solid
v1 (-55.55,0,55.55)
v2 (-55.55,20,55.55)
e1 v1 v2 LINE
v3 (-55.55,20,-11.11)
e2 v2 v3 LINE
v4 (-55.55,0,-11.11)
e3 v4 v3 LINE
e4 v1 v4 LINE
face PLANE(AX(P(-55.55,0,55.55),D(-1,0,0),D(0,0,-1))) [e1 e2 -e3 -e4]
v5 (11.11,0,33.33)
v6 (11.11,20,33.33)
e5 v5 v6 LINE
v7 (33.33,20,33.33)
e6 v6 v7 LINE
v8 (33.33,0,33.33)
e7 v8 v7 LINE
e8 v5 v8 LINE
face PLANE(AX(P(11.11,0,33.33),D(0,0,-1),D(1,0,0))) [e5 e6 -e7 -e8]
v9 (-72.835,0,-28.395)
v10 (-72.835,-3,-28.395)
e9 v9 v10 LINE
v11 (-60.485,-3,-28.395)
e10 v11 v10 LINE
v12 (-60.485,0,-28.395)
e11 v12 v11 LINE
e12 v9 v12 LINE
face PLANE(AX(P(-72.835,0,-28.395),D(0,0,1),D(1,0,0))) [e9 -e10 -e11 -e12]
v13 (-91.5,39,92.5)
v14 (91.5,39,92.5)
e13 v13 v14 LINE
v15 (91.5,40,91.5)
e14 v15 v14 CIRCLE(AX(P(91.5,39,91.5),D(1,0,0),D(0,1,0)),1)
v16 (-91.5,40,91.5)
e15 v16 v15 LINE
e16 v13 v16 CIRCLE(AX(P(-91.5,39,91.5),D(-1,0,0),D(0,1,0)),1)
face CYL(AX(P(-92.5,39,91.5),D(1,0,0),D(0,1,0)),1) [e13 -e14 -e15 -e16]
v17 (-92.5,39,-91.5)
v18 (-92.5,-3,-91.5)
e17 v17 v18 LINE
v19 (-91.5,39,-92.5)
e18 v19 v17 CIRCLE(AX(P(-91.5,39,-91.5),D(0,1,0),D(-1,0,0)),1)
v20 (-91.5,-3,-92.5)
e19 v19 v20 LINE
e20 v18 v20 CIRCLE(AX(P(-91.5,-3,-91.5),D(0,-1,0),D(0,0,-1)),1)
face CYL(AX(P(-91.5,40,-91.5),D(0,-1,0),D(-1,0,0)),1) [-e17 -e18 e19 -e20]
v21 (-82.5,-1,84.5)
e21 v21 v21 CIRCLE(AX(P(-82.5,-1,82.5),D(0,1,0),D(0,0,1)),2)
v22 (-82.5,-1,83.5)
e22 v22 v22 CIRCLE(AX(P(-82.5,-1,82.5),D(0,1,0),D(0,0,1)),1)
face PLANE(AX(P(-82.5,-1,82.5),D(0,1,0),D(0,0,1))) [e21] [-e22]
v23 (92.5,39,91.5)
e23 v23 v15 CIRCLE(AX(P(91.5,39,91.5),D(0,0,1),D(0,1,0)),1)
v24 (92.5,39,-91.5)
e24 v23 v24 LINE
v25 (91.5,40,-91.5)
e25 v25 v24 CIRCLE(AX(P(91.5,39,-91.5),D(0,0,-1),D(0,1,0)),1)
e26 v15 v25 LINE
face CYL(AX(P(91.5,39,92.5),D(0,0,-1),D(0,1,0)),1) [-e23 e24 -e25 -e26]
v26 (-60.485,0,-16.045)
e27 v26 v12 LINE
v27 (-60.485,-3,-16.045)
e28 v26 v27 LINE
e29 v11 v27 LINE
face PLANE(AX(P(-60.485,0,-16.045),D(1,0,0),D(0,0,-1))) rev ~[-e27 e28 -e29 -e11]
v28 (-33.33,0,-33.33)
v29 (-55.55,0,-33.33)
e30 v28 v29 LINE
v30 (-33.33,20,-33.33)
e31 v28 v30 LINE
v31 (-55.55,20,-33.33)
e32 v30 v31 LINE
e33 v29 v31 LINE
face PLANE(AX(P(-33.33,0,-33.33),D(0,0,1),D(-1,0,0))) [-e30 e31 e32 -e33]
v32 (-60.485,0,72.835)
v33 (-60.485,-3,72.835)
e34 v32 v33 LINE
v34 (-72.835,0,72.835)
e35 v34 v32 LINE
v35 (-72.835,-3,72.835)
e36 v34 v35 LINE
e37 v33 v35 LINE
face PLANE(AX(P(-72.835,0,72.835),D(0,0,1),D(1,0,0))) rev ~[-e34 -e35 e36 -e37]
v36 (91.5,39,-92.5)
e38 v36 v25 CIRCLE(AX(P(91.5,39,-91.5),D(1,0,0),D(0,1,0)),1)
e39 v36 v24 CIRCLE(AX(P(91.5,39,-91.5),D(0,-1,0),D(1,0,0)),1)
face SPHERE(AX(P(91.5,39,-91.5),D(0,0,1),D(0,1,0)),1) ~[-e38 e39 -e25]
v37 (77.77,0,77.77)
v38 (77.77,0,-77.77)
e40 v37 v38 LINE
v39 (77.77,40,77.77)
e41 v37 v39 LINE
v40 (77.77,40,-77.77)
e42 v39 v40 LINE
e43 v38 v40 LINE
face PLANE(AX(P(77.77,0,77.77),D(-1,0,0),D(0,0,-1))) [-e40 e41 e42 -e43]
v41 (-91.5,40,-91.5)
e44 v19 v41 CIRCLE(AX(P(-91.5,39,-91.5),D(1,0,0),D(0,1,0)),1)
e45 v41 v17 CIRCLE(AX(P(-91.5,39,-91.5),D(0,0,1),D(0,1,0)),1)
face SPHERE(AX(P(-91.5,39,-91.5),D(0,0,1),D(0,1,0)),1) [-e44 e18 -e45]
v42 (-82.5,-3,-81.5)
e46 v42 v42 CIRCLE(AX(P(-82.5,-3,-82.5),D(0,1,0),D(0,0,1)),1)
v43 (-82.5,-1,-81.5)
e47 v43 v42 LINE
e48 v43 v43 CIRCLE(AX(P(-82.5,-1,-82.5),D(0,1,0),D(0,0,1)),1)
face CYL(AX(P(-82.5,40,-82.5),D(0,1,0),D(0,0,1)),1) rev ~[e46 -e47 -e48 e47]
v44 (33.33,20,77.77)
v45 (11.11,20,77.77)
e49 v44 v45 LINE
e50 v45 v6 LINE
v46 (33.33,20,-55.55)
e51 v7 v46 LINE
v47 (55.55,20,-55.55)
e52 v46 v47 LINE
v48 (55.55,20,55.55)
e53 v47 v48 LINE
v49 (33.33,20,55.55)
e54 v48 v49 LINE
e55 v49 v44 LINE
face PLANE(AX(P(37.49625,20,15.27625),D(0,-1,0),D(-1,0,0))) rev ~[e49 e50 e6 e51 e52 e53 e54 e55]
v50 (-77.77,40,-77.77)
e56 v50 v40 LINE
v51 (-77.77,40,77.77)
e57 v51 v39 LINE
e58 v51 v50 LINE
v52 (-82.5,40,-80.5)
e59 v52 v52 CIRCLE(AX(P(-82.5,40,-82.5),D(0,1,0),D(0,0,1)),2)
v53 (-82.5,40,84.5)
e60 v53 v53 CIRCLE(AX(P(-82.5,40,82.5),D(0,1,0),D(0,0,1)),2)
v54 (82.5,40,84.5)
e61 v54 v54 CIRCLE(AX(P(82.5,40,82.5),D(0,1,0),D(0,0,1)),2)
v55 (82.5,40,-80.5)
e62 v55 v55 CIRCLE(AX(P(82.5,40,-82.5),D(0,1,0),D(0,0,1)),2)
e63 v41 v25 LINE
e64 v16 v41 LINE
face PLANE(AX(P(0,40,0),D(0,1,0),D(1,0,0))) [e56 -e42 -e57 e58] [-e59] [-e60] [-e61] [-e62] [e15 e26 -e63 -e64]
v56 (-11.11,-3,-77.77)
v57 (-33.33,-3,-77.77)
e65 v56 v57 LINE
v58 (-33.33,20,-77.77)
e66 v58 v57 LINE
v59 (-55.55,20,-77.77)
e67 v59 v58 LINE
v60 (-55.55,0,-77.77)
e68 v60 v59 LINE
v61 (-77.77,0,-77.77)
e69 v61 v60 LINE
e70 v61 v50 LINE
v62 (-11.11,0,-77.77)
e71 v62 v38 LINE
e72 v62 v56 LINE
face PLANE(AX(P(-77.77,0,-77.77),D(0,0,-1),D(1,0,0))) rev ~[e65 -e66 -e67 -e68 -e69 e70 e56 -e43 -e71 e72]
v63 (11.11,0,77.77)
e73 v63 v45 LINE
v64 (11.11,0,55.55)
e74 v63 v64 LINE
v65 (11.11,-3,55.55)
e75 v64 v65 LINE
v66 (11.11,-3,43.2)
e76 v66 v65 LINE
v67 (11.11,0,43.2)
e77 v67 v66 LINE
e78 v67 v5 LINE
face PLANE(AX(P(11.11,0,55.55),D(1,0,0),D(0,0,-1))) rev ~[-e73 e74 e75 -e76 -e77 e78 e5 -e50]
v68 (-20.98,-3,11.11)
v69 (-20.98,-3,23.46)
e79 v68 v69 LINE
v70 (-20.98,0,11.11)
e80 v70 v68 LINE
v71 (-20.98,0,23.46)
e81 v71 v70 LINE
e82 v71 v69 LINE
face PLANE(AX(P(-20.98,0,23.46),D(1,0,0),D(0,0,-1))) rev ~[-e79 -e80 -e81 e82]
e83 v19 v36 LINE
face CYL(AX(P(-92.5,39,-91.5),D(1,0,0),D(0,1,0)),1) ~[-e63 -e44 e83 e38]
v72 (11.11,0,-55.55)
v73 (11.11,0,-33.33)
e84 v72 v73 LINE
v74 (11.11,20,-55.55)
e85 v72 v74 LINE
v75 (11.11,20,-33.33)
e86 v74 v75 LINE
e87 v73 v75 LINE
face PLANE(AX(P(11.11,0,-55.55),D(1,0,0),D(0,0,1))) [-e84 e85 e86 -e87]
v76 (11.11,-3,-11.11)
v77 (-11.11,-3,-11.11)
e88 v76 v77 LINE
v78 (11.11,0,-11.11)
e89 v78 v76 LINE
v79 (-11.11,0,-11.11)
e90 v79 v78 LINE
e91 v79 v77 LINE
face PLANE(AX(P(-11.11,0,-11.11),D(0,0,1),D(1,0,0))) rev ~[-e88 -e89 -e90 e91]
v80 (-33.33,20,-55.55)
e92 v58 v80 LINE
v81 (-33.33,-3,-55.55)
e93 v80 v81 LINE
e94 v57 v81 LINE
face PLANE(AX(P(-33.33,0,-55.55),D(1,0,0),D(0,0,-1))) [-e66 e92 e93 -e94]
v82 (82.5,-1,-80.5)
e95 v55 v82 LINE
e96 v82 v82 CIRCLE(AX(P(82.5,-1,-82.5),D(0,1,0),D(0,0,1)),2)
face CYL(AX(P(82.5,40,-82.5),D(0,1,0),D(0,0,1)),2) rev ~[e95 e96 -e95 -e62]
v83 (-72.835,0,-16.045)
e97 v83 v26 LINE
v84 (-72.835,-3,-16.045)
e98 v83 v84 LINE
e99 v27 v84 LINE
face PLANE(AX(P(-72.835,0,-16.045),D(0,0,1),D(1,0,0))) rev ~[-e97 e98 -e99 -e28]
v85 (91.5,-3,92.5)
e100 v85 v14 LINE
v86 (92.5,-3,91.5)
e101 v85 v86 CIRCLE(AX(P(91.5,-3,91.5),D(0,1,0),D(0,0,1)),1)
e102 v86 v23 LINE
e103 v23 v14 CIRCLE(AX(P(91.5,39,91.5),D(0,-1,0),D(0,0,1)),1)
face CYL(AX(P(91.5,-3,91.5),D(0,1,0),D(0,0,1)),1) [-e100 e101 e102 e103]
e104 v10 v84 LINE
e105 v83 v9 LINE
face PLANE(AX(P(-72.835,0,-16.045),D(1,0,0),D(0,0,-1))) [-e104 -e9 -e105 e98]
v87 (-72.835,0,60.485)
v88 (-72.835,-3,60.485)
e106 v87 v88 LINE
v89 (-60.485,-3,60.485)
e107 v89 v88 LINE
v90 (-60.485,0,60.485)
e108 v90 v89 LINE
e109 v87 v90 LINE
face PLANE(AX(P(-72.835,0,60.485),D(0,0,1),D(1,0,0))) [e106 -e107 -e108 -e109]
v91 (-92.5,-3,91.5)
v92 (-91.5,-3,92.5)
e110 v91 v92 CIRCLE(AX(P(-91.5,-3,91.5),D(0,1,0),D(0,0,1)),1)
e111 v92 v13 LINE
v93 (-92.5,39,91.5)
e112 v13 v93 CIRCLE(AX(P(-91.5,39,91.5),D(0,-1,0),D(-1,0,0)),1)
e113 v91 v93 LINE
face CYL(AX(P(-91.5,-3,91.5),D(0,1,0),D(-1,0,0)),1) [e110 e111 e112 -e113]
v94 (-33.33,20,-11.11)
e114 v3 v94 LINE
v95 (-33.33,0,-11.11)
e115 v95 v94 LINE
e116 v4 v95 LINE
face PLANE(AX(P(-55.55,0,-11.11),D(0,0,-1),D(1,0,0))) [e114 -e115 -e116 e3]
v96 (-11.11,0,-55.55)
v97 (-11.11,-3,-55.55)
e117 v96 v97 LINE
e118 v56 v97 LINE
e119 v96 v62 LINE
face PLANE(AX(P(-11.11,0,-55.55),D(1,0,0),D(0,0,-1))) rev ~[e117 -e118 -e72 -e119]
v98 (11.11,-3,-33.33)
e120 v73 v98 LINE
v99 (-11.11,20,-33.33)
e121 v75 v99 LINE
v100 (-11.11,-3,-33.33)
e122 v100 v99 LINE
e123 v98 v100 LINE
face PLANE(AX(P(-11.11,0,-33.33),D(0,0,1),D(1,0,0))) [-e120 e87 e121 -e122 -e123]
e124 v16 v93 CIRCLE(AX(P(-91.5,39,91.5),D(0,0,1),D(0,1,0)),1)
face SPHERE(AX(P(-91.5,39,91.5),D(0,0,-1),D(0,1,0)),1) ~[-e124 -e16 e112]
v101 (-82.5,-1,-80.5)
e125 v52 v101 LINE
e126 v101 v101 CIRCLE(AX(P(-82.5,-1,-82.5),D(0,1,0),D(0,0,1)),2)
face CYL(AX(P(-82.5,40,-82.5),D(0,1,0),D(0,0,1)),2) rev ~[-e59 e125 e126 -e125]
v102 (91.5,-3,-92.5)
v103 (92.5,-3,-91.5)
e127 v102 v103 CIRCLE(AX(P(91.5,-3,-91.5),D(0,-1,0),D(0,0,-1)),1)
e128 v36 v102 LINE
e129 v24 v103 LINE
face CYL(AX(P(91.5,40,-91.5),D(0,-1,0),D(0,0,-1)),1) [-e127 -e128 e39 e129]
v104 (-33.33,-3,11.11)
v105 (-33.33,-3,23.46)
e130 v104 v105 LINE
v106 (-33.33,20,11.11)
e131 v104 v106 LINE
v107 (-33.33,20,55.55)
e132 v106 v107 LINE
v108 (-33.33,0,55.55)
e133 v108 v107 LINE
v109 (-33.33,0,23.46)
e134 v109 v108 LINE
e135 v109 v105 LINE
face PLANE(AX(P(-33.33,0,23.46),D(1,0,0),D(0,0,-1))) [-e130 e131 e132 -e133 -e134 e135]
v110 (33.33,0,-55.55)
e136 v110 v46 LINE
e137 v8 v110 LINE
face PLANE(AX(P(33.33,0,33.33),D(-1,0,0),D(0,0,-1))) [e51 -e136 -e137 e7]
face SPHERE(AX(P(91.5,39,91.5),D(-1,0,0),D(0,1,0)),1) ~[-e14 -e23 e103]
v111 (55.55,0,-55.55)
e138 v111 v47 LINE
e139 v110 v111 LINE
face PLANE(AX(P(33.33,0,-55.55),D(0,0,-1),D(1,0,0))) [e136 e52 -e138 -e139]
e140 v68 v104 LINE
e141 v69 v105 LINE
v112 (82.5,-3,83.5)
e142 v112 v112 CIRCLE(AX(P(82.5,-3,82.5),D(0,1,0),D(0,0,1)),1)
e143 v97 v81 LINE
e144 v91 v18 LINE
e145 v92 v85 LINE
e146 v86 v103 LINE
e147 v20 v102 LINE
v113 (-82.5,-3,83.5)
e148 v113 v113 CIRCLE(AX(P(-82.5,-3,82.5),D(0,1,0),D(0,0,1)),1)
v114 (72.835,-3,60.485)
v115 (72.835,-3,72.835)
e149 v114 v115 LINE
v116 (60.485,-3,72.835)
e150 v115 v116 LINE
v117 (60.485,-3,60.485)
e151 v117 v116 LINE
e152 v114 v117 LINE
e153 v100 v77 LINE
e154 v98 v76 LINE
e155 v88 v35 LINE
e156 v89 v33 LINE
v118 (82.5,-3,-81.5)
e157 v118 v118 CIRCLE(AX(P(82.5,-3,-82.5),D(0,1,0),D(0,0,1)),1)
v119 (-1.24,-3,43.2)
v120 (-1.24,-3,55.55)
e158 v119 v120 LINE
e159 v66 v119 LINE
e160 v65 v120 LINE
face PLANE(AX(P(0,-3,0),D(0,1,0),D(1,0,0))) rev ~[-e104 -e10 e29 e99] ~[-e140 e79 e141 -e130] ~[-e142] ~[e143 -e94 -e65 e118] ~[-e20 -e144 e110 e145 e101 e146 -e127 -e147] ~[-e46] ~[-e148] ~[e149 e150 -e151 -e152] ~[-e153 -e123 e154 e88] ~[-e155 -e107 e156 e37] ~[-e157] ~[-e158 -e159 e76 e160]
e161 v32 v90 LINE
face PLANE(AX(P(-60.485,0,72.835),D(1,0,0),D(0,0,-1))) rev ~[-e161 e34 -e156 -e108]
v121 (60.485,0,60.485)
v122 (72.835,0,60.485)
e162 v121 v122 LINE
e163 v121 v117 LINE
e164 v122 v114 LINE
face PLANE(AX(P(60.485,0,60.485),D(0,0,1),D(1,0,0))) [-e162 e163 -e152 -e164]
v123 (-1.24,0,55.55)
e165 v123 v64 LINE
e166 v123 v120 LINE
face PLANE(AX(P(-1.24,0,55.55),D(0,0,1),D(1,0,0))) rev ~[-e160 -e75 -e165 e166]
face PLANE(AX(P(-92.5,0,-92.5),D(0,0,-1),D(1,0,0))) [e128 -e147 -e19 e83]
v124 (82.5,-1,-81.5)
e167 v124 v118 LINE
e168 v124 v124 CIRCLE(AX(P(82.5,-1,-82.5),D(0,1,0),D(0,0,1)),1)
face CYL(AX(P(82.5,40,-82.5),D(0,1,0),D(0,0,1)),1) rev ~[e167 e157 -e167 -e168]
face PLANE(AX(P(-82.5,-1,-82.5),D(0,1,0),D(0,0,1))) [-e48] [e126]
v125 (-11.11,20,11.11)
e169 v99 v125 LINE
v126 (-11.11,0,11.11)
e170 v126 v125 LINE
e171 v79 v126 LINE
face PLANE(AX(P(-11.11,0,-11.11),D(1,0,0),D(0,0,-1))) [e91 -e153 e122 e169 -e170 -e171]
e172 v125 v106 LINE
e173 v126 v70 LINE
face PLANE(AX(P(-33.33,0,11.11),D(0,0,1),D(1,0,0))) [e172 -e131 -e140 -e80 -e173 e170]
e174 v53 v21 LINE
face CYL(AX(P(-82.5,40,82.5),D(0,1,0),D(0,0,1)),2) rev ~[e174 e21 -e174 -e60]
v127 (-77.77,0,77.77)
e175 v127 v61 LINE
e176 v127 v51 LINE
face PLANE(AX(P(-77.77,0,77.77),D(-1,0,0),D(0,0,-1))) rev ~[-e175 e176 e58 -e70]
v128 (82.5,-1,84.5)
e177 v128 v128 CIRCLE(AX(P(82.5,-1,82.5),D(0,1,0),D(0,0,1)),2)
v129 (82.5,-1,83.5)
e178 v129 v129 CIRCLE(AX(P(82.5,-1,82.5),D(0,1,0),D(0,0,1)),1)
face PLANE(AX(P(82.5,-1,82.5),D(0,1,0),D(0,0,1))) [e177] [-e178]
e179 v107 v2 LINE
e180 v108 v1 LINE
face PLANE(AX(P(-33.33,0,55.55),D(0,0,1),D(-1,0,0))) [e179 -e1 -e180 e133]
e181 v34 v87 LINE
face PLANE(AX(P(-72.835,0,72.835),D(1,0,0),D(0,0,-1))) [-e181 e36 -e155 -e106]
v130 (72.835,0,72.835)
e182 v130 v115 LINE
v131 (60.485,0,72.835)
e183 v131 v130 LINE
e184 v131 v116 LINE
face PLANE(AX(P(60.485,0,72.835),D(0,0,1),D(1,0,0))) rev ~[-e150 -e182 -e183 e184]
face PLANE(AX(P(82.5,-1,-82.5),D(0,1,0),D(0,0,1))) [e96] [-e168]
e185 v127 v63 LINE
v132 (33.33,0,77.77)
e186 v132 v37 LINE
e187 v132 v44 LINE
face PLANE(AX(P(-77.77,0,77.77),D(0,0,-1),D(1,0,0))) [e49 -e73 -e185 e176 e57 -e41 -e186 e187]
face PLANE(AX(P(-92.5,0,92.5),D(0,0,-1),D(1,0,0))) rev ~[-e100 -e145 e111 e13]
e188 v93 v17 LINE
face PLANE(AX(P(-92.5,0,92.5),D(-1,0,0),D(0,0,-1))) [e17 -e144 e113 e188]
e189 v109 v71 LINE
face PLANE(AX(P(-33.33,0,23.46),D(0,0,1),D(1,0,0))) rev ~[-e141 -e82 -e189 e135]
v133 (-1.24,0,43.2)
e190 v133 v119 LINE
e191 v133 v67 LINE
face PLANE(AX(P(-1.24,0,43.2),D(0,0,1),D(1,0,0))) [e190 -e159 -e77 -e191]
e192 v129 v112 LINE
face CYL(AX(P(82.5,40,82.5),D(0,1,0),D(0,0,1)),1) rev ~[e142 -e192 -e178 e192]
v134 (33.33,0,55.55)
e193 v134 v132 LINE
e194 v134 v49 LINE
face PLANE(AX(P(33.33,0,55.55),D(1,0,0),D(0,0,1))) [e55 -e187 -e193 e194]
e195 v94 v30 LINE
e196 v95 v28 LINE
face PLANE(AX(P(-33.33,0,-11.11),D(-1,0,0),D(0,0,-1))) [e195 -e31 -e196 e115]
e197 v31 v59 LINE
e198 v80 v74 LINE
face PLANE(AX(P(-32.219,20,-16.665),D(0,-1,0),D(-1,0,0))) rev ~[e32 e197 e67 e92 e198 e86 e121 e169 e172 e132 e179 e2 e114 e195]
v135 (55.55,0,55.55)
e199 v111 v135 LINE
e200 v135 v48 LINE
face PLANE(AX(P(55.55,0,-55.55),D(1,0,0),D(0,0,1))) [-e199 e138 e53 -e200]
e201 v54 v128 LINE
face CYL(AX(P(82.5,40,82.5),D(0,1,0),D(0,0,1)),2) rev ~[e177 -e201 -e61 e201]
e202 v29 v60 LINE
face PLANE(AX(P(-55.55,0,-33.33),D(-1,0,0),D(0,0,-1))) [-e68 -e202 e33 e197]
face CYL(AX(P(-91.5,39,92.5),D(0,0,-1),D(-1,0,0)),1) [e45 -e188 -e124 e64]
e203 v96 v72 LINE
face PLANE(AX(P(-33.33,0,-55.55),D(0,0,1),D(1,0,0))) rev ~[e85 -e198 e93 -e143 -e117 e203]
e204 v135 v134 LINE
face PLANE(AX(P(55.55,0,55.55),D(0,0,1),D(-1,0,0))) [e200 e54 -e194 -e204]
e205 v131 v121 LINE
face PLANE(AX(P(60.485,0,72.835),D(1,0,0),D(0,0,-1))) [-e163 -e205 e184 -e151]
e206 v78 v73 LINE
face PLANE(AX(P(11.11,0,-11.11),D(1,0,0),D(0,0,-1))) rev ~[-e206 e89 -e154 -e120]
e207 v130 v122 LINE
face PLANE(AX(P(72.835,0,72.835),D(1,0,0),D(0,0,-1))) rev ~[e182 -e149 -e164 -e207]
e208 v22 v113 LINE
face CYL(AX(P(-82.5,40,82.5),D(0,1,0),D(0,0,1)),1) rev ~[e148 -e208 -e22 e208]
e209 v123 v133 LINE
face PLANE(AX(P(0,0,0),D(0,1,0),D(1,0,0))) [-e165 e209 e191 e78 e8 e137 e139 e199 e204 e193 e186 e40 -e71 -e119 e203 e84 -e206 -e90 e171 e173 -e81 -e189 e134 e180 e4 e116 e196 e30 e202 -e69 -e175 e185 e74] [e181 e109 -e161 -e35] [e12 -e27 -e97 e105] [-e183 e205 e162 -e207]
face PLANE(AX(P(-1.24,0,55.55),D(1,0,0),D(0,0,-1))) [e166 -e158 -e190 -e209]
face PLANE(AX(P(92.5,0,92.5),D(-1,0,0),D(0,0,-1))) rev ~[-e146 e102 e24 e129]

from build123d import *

# Parameters (mm, degrees)
ESQUISSE2_W             = 185
ESQUISSE2_H             = 185
BOSS_EXTRU_1_DEPTH      = 3
ESQUISSE3_W             = 185
ESQUISSE3_H             = 185
ESQUISSE3_W_2           = 155.54
ESQUISSE3_H_2           = 155.54
BOSS_EXTRU_2_DEPTH      = 40
BOSS_EXTRU_3_DEPTH      = 20
ENL_V_MAT_EXTRU_1_REACH = 5
ESQUISSE5_W             = 22.22
ESQUISSE5_H             = 22.22
ESQUISSE5_W_2           = 12.35
ESQUISSE5_H_2           = 12.35
CONG_1_R                = 1
ESQUISSE6_R             = 1
ENL_V_MAT_EXTRU_2_DEPTH = 44
ESQUISSE7_R             = 2
ENL_V_MAT_EXTRU_3_DEPTH = 41


with BuildPart() as part:
    # Esquisse2 → Boss.-Extru.1 (new body)
    with BuildSketch(Plane(origin=(0, 0, 0), x_dir=(1, 0, 0), z_dir=(0, 1, 0))):
        Rectangle(ESQUISSE2_W, ESQUISSE2_H)
    extrude(amount=-BOSS_EXTRU_1_DEPTH)

    # Esquisse3 → Boss.-Extru.2 (add)
    with BuildSketch(Plane(origin=(0, 0, 0), x_dir=(1, 0, 0), z_dir=(0, 1, 0))):
        Rectangle(ESQUISSE3_W, ESQUISSE3_H)
        Rectangle(ESQUISSE3_W_2, ESQUISSE3_H_2, mode=Mode.SUBTRACT)
    extrude(amount=BOSS_EXTRU_2_DEPTH)

    # Esquisse4 → Boss.-Extru.3 (add)
    with BuildSketch(Plane(origin=(0, 0, 0), x_dir=(1, 0, 0), z_dir=(0, 1, 0))):
        Polygon((-55.55, 77.77), (-33.33, 77.77), (-33.33, 55.55), (11.11, 55.55), (11.11, 33.33), (-11.11, 33.33), (-11.11, -11.11), (-33.33, -11.11), (-33.33, -55.55), (-55.55, -55.55), (-55.55, 11.11), (-33.33, 11.11), (-33.33, 33.33), (-55.55, 33.33), align=None)
        Polygon((33.33, 55.55), (55.55, 55.55), (55.55, -55.55), (33.33, -55.55), (33.33, -77.77), (11.11, -77.77), (11.11, -33.33), (33.33, -33.33), align=None)
    extrude(amount=BOSS_EXTRU_3_DEPTH)

    # Esquisse5 → Enlèv. mat.-Extru.1 (cut, up to next)
    with BuildSketch(Plane(origin=(0, 0, 0), x_dir=(1, 0, 0), z_dir=(0, 1, 0)), mode=Mode.PRIVATE) as enl_v_mat_extru_1_sk1:
        with Locations((-22.22, 66.66)):
            Rectangle(ESQUISSE5_W, ESQUISSE5_H)
    enl_v_mat_extru_1_tool1 = extrude(enl_v_mat_extru_1_sk1.sketch, amount=-ENL_V_MAT_EXTRU_1_REACH, mode=Mode.PRIVATE) & part.part
    add(enl_v_mat_extru_1_tool1.solids().sort_by_distance((-22.22, 0, -66.66))[0], mode=Mode.SUBTRACT)
    # Esquisse5 → Enlèv. mat.-Extru.1 (cut, up to next)
    with BuildSketch(Plane(origin=(0, 0, 0), x_dir=(1, 0, 0), z_dir=(0, 1, 0)), mode=Mode.PRIVATE) as enl_v_mat_extru_1_sk2:
        with Locations((0, 22.22)):
            Rectangle(ESQUISSE5_W, ESQUISSE5_H)
    enl_v_mat_extru_1_tool2 = extrude(enl_v_mat_extru_1_sk2.sketch, amount=-ENL_V_MAT_EXTRU_1_REACH, mode=Mode.PRIVATE) & part.part
    add(enl_v_mat_extru_1_tool2.solids().sort_by_distance((0, 0, -22.22))[0], mode=Mode.SUBTRACT)
    # Esquisse5 → Enlèv. mat.-Extru.1 (cut, up to next)
    with BuildSketch(Plane(origin=(0, 0, 0), x_dir=(1, 0, 0), z_dir=(0, 1, 0)), mode=Mode.PRIVATE) as enl_v_mat_extru_1_sk3:
        with Locations((-27.155, -17.285)):
            Rectangle(ESQUISSE5_W_2, ESQUISSE5_H_2)
    enl_v_mat_extru_1_tool3 = extrude(enl_v_mat_extru_1_sk3.sketch, amount=-ENL_V_MAT_EXTRU_1_REACH, mode=Mode.PRIVATE) & part.part
    add(enl_v_mat_extru_1_tool3.solids().sort_by_distance((-27.155, 0, 17.285))[0], mode=Mode.SUBTRACT)
    # Esquisse5 → Enlèv. mat.-Extru.1 (cut, up to next)
    with BuildSketch(Plane(origin=(0, 0, 0), x_dir=(1, 0, 0), z_dir=(0, 1, 0)), mode=Mode.PRIVATE) as enl_v_mat_extru_1_sk4:
        with Locations((-66.66, 22.22)):
            Rectangle(ESQUISSE5_W_2, ESQUISSE5_H_2)
    enl_v_mat_extru_1_tool4 = extrude(enl_v_mat_extru_1_sk4.sketch, amount=-ENL_V_MAT_EXTRU_1_REACH, mode=Mode.PRIVATE) & part.part
    add(enl_v_mat_extru_1_tool4.solids().sort_by_distance((-66.66, 0, -22.22))[0], mode=Mode.SUBTRACT)
    # Esquisse5 → Enlèv. mat.-Extru.1 (cut, up to next)
    with BuildSketch(Plane(origin=(0, 0, 0), x_dir=(1, 0, 0), z_dir=(0, 1, 0)), mode=Mode.PRIVATE) as enl_v_mat_extru_1_sk5:
        with Locations((-66.66, -66.66)):
            Rectangle(ESQUISSE5_W_2, ESQUISSE5_H_2)
    enl_v_mat_extru_1_tool5 = extrude(enl_v_mat_extru_1_sk5.sketch, amount=-ENL_V_MAT_EXTRU_1_REACH, mode=Mode.PRIVATE) & part.part
    add(enl_v_mat_extru_1_tool5.solids().sort_by_distance((-66.66, 0, 66.66))[0], mode=Mode.SUBTRACT)
    # Esquisse5 → Enlèv. mat.-Extru.1 (cut, up to next)
    with BuildSketch(Plane(origin=(0, 0, 0), x_dir=(1, 0, 0), z_dir=(0, 1, 0)), mode=Mode.PRIVATE) as enl_v_mat_extru_1_sk6:
        with Locations((66.66, -66.66)):
            Rectangle(ESQUISSE5_W_2, ESQUISSE5_H_2)
    enl_v_mat_extru_1_tool6 = extrude(enl_v_mat_extru_1_sk6.sketch, amount=-ENL_V_MAT_EXTRU_1_REACH, mode=Mode.PRIVATE) & part.part
    add(enl_v_mat_extru_1_tool6.solids().sort_by_distance((66.66, 0, 66.66))[0], mode=Mode.SUBTRACT)
    # Esquisse5 → Enlèv. mat.-Extru.1 (cut, up to next)
    with BuildSketch(Plane(origin=(0, 0, 0), x_dir=(1, 0, 0), z_dir=(0, 1, 0)), mode=Mode.PRIVATE) as enl_v_mat_extru_1_sk7:
        with Locations((4.935, -49.375)):
            Rectangle(ESQUISSE5_W_2, ESQUISSE5_H_2)
    enl_v_mat_extru_1_tool7 = extrude(enl_v_mat_extru_1_sk7.sketch, amount=-ENL_V_MAT_EXTRU_1_REACH, mode=Mode.PRIVATE) & part.part
    add(enl_v_mat_extru_1_tool7.solids().sort_by_distance((4.935, 0, 49.375))[0], mode=Mode.SUBTRACT)

    # Congé1
    cong_1_edges = [part.edges().sort_by_distance(p)[0] for p in [
        (-92.5, 40, 0),
        (0, 40, 92.5),
        (92.5, 40, 0),
        (0, 40, -92.5),
        (-92.5, 18.5, -92.5),
        (92.5, 18.5, -92.5),
        (92.5, 18.5, 92.5),
        (-92.5, 18.5, 92.5),
    ]]
    fillet(cong_1_edges, radius=CONG_1_R)

    # Esquisse6 → Enlèv. mat.-Extru.2 (cut, through all)
    with BuildSketch(Plane(origin=(0, 40, 0), x_dir=(1, 0, 0), z_dir=(0, 1, 0))):
        with Locations(Location((-82.5, -82.5, 0), (0, 0, 270))):  # turned: the seam where the file's is
            Circle(ESQUISSE6_R)
        with Locations(Location((82.5, -82.5, 0), (0, 0, 270))):  # turned: the seam where the file's is
            Circle(ESQUISSE6_R)
        with Locations(Location((82.5, 82.5, 0), (0, 0, 270))):  # turned: the seam where the file's is
            Circle(ESQUISSE6_R)
        with Locations(Location((-82.5, 82.5, 0), (0, 0, 270))):  # turned: the seam where the file's is
            Circle(ESQUISSE6_R)
    extrude(amount=-ENL_V_MAT_EXTRU_2_DEPTH, mode=Mode.SUBTRACT)

    # Esquisse7 → Enlèv. mat.-Extru.3 (cut)
    with BuildSketch(Plane(origin=(0, 40, 0), x_dir=(1, 0, 0), z_dir=(0, 1, 0))):
        with Locations(Location((-82.5, -82.5, 0), (0, 0, 270))):  # turned: the seam where the file's is
            Circle(ESQUISSE7_R)
        with Locations(Location((-82.5, 82.5, 0), (0, 0, 270))):  # turned: the seam where the file's is
            Circle(ESQUISSE7_R)
        with Locations(Location((82.5, 82.5, 0), (0, 0, 270))):  # turned: the seam where the file's is
            Circle(ESQUISSE7_R)
        with Locations(Location((82.5, -82.5, 0), (0, 0, 270))):  # turned: the seam where the file's is
            Circle(ESQUISSE7_R)
    extrude(amount=-ENL_V_MAT_EXTRU_3_DEPTH, mode=Mode.SUBTRACT)


solid = part.part
